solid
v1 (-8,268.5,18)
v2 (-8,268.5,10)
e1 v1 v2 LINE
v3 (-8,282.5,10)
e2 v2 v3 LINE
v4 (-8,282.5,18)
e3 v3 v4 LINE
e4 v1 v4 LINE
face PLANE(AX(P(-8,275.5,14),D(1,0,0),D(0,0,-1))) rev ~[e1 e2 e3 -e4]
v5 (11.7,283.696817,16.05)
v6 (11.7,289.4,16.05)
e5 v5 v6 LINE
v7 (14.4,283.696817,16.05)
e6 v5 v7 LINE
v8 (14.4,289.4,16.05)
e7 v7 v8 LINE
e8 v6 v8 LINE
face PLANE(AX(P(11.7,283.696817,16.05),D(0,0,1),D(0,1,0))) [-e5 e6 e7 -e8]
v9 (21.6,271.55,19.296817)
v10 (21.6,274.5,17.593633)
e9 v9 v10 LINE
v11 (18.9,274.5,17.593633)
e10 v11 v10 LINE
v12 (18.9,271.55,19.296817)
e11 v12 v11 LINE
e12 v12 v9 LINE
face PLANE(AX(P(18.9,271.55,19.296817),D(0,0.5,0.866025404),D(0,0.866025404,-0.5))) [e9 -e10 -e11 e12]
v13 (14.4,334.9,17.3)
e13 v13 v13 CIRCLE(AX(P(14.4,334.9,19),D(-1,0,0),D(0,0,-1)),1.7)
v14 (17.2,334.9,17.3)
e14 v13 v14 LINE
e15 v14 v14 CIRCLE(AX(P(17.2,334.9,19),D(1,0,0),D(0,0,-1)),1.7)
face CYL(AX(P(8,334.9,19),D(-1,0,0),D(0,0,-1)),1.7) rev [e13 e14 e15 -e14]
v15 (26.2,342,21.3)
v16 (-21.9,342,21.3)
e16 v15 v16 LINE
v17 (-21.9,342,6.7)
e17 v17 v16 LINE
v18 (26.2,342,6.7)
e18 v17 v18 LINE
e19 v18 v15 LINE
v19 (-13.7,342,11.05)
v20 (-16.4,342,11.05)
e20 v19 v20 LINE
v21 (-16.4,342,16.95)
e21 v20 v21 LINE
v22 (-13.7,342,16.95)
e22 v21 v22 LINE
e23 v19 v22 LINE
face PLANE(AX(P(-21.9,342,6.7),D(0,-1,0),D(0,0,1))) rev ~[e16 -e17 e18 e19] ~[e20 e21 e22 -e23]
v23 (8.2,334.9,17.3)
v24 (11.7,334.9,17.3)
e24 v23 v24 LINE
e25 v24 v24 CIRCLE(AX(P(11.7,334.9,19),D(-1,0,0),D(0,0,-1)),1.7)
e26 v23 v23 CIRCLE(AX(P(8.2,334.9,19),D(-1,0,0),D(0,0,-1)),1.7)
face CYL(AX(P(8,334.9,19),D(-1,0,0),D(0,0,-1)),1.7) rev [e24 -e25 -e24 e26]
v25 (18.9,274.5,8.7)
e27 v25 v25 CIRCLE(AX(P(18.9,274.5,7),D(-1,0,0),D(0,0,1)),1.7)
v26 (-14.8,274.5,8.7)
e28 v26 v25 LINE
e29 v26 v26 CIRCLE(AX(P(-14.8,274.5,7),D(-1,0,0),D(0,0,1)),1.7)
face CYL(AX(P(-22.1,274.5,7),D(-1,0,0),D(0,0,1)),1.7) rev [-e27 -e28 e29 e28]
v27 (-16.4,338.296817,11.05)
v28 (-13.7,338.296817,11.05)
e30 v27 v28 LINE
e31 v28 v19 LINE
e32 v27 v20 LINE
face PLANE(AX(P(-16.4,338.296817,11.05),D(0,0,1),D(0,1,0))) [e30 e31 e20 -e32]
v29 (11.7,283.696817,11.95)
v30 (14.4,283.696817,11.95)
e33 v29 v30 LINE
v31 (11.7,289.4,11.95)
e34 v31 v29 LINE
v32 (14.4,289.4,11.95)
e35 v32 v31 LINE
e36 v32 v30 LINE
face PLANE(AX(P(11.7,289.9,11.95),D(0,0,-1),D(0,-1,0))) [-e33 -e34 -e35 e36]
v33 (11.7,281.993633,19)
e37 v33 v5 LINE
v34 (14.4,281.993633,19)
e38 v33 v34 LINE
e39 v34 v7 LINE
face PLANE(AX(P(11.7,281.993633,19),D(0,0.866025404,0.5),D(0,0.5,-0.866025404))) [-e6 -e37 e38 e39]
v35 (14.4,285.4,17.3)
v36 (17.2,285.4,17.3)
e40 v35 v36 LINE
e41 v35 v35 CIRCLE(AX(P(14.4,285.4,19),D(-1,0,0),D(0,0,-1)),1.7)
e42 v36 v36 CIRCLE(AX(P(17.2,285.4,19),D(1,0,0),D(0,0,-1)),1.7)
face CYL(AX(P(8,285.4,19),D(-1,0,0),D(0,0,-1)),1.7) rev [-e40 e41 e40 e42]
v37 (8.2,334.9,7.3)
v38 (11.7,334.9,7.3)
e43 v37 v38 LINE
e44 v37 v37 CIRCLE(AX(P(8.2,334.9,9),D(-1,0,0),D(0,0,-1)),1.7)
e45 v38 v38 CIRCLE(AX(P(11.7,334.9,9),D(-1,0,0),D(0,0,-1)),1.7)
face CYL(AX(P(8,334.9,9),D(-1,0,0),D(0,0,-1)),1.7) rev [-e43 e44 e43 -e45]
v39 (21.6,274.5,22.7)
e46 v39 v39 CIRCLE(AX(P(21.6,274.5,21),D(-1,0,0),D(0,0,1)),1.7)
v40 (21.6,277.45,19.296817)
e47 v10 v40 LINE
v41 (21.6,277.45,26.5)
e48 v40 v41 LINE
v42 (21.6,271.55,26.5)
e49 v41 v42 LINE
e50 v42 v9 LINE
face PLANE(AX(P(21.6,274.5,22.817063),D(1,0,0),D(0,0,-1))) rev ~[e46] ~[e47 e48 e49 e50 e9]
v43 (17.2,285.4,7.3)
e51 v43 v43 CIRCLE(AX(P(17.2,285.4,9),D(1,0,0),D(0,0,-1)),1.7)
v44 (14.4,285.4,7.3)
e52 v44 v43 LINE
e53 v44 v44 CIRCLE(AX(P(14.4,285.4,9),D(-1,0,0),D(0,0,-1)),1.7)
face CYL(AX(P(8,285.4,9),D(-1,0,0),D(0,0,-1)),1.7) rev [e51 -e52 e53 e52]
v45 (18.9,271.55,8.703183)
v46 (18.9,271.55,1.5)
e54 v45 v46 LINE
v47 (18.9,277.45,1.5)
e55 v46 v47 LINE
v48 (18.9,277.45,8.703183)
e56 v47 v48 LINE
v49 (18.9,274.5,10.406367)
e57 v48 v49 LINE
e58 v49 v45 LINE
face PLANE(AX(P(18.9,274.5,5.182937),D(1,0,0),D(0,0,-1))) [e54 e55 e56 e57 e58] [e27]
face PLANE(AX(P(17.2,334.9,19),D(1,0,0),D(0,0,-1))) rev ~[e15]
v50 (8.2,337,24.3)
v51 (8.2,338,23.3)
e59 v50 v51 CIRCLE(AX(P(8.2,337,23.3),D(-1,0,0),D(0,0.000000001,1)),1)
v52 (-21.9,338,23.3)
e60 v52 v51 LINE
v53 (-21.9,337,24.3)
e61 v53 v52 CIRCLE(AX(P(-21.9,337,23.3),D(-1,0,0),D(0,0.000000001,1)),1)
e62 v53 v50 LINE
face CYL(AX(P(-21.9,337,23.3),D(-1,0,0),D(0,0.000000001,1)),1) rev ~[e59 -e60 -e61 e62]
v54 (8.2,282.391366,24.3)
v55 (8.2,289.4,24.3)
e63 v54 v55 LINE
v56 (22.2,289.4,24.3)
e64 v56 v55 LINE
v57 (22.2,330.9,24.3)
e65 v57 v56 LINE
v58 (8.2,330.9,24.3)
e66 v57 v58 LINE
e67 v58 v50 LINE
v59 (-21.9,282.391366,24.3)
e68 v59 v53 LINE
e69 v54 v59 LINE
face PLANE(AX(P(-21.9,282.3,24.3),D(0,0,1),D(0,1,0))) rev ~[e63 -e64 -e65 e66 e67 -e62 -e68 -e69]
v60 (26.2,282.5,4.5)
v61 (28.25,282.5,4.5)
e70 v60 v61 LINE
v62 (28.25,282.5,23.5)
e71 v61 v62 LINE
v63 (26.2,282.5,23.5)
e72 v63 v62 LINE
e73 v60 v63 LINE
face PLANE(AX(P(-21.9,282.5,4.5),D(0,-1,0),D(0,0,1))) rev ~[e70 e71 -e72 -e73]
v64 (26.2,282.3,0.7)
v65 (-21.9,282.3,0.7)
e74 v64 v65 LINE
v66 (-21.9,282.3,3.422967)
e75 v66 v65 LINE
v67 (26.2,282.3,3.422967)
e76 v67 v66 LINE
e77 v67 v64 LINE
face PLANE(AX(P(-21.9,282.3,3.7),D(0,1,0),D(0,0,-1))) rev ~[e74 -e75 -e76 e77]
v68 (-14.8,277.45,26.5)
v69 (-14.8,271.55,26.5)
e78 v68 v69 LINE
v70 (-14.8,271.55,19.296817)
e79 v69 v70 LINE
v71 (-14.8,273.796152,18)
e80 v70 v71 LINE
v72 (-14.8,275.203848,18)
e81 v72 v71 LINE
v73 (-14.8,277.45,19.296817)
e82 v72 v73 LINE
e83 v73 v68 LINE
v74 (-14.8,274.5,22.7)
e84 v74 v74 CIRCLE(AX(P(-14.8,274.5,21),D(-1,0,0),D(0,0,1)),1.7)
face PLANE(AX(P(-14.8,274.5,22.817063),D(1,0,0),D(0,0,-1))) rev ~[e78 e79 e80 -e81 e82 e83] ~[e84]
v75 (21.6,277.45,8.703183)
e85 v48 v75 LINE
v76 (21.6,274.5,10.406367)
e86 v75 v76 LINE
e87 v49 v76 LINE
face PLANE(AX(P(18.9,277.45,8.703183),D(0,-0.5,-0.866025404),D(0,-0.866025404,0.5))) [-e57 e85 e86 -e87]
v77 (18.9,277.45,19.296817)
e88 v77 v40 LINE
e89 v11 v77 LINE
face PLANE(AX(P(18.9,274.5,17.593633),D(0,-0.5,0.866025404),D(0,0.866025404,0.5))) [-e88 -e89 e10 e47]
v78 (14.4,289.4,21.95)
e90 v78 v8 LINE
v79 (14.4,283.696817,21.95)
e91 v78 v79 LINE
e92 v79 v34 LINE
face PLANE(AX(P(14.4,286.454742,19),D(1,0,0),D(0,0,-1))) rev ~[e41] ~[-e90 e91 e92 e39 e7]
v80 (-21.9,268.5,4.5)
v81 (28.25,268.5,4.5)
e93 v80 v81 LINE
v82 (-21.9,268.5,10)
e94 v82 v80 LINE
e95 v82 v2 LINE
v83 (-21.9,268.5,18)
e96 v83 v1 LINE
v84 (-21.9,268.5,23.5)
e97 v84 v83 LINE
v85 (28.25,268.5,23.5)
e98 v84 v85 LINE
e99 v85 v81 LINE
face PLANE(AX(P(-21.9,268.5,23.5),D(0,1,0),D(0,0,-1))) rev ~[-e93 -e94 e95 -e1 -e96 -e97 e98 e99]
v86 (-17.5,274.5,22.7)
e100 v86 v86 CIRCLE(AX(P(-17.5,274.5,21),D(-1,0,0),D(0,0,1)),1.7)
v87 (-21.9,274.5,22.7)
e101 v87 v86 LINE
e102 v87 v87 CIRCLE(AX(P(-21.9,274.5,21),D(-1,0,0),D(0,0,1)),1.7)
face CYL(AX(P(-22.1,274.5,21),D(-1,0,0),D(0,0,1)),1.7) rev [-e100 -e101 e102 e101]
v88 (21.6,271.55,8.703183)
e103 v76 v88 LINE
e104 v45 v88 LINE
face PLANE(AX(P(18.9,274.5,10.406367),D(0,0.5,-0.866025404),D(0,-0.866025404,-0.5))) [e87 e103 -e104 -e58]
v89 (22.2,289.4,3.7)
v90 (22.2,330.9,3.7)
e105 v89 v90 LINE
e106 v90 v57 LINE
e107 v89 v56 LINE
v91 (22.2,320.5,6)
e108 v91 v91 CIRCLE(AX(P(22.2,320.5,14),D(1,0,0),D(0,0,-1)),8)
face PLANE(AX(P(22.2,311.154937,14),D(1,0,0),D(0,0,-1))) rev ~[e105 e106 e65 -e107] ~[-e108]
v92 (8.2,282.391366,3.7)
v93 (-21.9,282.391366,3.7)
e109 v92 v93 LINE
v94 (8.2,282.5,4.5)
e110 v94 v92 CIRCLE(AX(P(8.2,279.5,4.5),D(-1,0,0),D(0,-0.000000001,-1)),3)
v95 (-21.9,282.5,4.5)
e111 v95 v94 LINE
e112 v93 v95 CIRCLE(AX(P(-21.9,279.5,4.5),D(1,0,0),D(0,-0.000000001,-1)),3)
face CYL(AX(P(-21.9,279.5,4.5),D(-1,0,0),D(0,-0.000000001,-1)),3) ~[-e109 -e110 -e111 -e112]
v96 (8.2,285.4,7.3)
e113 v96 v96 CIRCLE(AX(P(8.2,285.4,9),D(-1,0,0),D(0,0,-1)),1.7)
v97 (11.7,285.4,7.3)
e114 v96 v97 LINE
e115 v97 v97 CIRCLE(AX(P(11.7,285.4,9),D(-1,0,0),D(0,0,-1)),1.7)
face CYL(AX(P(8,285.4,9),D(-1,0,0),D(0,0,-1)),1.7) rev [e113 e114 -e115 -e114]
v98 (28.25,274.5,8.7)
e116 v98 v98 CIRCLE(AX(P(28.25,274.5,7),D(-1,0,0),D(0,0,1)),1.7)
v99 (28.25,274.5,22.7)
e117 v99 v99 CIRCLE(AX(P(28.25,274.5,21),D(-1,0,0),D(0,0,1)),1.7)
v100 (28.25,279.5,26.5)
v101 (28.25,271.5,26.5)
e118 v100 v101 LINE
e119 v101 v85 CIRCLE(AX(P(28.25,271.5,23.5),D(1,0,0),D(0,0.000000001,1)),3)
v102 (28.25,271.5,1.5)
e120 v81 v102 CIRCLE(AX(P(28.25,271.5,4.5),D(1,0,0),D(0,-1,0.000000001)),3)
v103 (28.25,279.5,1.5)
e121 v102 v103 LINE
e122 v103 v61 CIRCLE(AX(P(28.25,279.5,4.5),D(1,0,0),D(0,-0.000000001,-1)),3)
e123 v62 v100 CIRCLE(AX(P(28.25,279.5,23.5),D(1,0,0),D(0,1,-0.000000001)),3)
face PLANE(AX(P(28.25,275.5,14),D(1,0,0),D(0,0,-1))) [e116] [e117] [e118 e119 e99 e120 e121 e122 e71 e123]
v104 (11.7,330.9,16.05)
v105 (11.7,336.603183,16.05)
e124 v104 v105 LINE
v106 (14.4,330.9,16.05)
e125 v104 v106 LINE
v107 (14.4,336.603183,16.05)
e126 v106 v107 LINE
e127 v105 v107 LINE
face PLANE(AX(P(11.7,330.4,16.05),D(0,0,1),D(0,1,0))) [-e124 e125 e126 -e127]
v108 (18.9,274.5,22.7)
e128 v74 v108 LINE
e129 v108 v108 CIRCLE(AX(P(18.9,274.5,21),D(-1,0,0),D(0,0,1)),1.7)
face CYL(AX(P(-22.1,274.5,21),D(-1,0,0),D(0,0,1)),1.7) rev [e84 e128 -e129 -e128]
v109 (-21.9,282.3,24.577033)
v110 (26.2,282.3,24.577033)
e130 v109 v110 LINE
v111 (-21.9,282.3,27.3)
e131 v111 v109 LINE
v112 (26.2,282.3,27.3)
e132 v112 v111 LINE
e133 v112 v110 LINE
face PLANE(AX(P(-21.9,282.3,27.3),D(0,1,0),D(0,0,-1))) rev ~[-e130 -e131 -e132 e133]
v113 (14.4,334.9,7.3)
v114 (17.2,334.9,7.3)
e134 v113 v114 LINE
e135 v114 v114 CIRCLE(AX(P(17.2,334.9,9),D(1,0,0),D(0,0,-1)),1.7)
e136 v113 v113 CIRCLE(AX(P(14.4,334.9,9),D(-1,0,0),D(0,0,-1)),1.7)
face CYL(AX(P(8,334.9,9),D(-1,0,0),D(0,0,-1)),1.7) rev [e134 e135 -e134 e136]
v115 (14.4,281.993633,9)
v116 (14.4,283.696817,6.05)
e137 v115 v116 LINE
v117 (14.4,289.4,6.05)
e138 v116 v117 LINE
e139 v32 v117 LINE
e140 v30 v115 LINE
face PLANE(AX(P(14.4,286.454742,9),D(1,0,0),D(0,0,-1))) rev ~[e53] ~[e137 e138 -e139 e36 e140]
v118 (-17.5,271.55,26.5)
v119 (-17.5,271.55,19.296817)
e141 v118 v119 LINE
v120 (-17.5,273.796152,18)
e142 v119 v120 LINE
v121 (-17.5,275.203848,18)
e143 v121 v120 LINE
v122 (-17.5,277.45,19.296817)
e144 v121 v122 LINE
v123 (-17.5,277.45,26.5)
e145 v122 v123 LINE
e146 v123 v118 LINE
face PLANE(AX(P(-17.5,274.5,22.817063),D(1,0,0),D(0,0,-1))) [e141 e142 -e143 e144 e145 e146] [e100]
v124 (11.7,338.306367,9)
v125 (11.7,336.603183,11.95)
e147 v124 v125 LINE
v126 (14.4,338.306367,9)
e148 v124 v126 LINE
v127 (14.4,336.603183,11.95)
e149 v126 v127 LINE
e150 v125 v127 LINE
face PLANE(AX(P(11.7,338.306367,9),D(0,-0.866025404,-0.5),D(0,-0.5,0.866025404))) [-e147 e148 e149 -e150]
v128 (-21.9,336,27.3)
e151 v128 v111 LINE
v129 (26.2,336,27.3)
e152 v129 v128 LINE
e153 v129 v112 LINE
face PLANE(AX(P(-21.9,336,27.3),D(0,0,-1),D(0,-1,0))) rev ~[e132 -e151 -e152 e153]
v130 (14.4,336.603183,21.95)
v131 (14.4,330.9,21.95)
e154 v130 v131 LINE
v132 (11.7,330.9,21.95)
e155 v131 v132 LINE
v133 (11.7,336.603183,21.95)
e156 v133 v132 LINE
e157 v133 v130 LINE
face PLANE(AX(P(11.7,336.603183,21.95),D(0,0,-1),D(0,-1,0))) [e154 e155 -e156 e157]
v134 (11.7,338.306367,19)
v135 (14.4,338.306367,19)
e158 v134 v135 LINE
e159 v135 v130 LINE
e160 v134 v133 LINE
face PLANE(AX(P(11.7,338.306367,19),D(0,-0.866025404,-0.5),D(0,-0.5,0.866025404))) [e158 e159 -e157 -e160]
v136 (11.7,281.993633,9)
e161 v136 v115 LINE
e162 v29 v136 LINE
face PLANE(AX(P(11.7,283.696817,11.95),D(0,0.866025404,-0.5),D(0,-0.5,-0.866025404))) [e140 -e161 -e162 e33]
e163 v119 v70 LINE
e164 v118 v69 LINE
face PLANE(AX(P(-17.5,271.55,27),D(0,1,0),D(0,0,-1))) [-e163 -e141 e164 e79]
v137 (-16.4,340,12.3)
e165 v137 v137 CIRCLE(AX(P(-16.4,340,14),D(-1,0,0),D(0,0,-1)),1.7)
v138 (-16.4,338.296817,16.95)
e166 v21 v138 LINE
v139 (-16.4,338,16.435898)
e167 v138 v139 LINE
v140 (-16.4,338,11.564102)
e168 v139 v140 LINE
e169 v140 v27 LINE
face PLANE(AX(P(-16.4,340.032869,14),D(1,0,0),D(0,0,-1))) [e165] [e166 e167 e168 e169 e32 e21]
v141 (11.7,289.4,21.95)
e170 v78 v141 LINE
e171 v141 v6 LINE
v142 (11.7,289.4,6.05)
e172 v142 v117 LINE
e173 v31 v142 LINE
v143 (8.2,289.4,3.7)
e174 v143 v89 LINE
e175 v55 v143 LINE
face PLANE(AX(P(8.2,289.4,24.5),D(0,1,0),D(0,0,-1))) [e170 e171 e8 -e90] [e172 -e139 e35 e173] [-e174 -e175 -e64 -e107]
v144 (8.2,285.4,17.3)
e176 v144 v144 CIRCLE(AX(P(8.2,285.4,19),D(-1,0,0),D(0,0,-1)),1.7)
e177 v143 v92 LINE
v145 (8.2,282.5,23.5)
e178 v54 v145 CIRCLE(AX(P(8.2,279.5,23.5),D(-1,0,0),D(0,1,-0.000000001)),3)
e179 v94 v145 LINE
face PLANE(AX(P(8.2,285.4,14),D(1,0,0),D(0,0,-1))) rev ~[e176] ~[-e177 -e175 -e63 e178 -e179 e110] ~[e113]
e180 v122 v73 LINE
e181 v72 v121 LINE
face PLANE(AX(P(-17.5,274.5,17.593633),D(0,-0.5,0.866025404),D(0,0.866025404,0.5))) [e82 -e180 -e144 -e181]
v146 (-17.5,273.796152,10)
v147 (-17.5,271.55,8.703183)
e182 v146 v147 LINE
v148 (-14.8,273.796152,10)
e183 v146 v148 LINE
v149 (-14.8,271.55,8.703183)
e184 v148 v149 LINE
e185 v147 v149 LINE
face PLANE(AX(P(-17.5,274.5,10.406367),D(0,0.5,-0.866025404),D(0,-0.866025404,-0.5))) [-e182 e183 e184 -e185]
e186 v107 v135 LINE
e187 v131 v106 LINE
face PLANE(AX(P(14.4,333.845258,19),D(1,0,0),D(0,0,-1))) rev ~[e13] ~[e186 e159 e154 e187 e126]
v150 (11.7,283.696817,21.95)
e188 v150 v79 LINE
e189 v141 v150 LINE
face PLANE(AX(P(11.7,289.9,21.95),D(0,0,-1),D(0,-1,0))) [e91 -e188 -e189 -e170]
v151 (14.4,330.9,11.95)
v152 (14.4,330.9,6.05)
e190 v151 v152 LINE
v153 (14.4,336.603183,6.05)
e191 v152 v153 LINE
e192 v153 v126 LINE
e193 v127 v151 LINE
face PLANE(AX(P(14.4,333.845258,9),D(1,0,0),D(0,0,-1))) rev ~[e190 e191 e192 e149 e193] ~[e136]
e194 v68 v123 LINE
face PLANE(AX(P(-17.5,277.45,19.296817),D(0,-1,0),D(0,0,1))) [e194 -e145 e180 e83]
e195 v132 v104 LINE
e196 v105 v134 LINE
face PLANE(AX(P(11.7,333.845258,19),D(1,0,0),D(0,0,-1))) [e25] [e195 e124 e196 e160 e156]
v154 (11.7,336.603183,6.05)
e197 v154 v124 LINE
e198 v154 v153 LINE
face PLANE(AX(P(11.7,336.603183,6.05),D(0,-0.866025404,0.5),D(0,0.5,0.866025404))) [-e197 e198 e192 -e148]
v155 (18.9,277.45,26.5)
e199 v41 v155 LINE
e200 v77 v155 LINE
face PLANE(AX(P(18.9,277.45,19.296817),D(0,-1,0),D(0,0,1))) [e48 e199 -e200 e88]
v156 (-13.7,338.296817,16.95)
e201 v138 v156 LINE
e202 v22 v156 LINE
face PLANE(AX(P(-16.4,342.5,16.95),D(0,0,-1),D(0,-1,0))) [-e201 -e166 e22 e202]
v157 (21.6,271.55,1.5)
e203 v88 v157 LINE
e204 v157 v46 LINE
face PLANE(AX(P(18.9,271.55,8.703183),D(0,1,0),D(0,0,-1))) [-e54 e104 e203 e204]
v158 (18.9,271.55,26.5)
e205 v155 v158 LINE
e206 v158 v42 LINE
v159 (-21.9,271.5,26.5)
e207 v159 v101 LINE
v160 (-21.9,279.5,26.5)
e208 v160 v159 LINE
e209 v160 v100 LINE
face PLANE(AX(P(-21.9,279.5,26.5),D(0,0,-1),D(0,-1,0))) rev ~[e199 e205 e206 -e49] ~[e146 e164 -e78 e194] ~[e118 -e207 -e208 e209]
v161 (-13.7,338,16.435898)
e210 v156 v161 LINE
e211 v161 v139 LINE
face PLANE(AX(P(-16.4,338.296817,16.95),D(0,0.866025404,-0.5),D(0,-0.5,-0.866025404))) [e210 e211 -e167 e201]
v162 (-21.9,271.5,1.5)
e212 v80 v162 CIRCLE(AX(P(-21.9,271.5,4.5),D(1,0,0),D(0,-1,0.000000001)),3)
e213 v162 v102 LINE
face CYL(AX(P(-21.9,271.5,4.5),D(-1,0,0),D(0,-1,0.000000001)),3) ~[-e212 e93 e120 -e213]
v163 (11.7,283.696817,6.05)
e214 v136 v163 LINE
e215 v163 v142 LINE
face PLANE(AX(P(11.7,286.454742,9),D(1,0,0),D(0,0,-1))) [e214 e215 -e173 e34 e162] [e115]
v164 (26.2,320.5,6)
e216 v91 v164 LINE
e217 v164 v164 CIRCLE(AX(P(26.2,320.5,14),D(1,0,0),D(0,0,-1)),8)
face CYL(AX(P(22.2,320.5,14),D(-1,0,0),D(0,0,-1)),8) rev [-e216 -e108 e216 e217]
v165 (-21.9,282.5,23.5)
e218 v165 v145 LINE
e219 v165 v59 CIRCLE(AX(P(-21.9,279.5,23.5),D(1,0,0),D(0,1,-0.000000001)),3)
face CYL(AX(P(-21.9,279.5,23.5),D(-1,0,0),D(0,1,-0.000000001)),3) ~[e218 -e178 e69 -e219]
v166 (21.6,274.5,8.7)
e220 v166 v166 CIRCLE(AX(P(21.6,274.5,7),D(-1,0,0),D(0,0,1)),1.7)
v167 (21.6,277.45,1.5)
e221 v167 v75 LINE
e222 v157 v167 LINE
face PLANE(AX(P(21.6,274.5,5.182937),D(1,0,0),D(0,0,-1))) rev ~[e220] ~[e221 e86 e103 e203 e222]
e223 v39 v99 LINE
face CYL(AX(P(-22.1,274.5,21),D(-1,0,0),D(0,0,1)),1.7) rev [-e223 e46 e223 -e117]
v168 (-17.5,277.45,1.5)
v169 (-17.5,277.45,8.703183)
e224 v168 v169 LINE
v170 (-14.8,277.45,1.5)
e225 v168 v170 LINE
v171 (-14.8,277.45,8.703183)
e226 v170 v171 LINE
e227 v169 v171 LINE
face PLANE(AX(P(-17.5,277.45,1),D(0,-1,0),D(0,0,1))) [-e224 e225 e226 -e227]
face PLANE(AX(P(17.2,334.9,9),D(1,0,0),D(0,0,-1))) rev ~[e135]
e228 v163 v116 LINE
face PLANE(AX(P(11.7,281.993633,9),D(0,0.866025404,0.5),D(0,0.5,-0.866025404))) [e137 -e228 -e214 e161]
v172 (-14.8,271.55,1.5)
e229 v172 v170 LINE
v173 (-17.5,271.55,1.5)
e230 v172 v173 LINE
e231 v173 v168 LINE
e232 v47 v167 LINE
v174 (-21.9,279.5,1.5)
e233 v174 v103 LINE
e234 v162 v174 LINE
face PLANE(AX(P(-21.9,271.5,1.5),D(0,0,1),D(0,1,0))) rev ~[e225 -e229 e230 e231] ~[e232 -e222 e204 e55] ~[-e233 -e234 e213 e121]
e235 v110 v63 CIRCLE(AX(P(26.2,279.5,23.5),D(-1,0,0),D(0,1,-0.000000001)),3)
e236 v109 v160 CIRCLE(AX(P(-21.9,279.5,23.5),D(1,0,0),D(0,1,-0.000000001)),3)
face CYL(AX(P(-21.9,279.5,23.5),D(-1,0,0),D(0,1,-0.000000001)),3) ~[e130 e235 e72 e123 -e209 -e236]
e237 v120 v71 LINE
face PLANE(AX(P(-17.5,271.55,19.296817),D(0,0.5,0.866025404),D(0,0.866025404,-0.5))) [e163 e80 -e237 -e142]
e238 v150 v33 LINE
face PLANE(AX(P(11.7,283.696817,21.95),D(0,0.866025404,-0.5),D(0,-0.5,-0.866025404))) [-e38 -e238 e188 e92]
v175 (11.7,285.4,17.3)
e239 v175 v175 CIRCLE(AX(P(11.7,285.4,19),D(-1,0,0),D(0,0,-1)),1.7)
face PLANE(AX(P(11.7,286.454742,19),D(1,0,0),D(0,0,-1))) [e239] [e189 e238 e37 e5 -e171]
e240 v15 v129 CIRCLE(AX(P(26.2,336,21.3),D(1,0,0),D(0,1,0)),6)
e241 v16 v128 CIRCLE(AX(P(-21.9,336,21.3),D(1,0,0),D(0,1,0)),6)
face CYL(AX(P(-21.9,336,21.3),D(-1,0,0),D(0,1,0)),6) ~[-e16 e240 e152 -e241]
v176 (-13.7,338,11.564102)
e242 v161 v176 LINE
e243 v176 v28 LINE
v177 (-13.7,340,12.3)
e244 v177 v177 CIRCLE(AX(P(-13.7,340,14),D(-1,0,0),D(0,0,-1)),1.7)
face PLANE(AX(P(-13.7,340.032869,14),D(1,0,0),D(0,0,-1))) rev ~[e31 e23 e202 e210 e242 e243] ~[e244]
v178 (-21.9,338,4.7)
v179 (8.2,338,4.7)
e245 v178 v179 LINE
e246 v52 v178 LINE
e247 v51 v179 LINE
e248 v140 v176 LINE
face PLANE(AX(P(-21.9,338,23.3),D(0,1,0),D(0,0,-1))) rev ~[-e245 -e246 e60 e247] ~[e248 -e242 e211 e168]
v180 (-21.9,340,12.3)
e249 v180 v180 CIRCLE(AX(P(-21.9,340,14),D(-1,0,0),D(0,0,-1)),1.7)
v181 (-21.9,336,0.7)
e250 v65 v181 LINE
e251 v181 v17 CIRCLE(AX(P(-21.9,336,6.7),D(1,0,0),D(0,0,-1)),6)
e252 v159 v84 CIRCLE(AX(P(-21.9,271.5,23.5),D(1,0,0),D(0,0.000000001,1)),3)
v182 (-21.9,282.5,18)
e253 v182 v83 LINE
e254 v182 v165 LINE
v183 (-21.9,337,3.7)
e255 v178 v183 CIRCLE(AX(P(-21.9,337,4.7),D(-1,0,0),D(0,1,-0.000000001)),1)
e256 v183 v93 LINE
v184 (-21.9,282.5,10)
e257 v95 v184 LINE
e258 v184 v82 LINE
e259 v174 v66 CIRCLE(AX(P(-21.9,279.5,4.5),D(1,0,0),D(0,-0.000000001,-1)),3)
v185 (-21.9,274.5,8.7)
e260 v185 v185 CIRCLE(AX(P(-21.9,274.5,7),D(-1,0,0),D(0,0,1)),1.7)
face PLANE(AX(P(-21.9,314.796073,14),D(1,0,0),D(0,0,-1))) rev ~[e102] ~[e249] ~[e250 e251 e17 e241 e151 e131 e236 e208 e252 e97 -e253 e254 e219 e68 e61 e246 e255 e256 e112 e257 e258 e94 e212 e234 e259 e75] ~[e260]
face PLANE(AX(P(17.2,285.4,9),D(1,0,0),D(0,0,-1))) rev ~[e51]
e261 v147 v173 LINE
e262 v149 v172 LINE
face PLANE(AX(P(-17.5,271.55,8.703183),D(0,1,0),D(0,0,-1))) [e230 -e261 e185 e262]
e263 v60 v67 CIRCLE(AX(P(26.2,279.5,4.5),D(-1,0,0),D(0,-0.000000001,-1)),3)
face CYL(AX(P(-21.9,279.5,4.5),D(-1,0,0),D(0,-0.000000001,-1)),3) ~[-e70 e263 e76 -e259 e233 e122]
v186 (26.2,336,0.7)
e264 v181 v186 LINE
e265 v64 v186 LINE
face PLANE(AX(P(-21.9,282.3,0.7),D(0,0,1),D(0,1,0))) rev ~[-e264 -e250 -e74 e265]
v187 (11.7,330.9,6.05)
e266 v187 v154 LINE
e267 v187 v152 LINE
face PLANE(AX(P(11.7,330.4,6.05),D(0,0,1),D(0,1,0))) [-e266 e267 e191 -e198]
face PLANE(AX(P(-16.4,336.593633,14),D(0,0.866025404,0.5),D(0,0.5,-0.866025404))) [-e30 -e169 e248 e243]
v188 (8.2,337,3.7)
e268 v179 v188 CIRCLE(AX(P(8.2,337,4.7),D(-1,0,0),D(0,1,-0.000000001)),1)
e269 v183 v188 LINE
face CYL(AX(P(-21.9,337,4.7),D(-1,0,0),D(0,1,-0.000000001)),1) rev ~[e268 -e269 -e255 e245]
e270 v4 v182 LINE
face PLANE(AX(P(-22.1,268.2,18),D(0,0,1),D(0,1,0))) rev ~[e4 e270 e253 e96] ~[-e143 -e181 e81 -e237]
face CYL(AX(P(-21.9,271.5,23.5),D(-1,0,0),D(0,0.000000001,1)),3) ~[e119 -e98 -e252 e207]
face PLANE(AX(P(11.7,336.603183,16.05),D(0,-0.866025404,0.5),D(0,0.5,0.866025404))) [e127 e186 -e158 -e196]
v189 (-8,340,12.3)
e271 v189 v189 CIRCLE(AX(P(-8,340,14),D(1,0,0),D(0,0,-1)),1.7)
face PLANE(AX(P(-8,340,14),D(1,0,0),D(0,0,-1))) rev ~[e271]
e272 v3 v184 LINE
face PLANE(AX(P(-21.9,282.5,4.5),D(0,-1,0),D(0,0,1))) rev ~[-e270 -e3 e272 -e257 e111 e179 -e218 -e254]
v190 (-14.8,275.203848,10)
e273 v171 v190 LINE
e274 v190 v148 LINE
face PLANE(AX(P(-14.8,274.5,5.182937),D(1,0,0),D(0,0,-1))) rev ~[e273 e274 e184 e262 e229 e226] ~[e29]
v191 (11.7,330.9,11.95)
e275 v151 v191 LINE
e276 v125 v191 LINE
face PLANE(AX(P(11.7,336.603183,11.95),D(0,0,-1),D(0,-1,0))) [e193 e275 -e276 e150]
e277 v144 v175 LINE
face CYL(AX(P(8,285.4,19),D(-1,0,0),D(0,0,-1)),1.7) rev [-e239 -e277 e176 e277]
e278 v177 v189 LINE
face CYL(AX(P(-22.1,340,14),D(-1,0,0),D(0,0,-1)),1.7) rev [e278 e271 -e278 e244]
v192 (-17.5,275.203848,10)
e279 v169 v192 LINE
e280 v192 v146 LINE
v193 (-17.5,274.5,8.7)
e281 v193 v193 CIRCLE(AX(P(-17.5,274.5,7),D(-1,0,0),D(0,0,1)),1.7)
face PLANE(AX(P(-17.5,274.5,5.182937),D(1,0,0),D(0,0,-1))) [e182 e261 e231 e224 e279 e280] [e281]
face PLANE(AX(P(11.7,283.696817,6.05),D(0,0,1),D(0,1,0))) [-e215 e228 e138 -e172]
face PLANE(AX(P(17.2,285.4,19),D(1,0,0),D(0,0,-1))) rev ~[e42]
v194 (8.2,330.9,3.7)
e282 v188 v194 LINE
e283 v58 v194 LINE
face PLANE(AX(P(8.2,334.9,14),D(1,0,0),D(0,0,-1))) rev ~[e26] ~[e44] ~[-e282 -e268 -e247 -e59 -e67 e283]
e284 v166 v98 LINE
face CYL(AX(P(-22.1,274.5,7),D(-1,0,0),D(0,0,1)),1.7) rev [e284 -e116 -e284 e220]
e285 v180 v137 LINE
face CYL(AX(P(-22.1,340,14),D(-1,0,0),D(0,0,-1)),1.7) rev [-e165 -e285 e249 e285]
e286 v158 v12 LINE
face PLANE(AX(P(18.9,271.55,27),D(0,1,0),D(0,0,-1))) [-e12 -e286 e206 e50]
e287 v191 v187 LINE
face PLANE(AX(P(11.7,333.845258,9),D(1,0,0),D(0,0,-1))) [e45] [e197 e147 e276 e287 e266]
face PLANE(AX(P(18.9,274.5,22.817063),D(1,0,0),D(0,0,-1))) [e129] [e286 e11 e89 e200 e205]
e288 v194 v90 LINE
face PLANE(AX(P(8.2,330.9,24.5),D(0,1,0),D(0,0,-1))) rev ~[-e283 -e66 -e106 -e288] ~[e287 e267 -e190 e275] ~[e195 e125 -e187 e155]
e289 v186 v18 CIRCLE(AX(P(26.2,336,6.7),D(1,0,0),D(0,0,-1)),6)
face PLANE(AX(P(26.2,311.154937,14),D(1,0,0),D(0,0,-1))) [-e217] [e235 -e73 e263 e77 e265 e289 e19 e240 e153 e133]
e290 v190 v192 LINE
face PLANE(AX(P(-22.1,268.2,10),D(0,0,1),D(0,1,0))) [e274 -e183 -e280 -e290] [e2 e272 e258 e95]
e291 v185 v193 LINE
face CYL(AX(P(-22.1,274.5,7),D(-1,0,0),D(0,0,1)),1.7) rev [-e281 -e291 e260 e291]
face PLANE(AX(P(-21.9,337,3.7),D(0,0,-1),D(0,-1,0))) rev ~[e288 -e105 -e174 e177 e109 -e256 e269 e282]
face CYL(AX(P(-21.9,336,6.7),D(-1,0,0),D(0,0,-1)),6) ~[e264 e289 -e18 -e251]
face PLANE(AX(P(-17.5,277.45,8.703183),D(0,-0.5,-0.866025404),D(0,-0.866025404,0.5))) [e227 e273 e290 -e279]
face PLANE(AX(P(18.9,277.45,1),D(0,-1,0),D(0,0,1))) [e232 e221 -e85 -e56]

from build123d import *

# Parameters (mm, degrees)
TAIL_START              = -21.9
TAIL_BLOCK_DEPTH        = 50.15
NOSE_START              = 22.2
SKETCH2_R               = 8
NOSE_WALL_X_DEPTH       = 4
NOSE_START_2            = -21.9
NOSE_WALLS_DEPTH        = 44.3
HEAD_START              = 8.2
SKETCH4_W               = 21
SKETCH4_H               = 8
HEAD_SERVO_LEDGES_DEPTH = 14.2
TAB_START               = 8
SKETCH5_R               = 1.7
TAB_BOLT_HOLES_DEPTH    = 9.2
TAB_START_2             = 11.7
TAB_NUT_SLOTS_DEPTH     = 2.7
MOUNT_START             = -22.1
SKETCH7_R               = 1.7
MOUNT_BOLT_HOLES_DEPTH  = 50.55
COVER_START             = -22.1
SKETCH8_R               = 1.7
COVER_BOLT_HOLE_DEPTH   = 14.1
D_SIDE_START            = 18.9
D_SIDE_NUT_SLOTS_DEPTH  = 2.7
I_SIDE_START            = -17.5
I_SIDE_NUT_SLOTS_DEPTH  = 2.7
COVER_START_2           = -16.4
COVER_NUT_SLOT_DEPTH    = 2.7
LEAD_START              = -22.1
SKETCH12_W              = 8
SKETCH12_H              = 14.6
LEAD_CHANNEL_DEPTH      = 14.1


with BuildPart() as part:
    # Sketch1 → Tail block (new body)
    with BuildSketch(Plane(origin=(0, 0, 0), x_dir=(0, 0, -1), z_dir=(1, 0, 0)).offset(TAIL_START)):
        with BuildLine():
            Line((-1.5, 271.5), (-1.5, 279.5))
            ThreePointArc((-1.5, 279.5), (-2.378679656, 281.621320344), (-4.5, 282.5))
            Line((-4.5, 282.5), (-23.5, 282.5))
            ThreePointArc((-23.5, 282.5), (-25.621320344, 281.621320344), (-26.5, 279.5))
            Line((-26.5, 279.5), (-26.5, 271.5))
            ThreePointArc((-26.5, 271.5), (-25.621320344, 269.378679656), (-23.5, 268.5))
            Line((-23.5, 268.5), (-4.5, 268.5))
            ThreePointArc((-4.5, 268.5), (-2.378679656, 269.378679656), (-1.5, 271.5))
        make_face()
    extrude(amount=TAIL_BLOCK_DEPTH)

    # Sketch2 → Nose wall +X (add)
    with BuildSketch(Plane(origin=(0, 0, 0), x_dir=(0, 0, -1), z_dir=(1, 0, 0)).offset(NOSE_START)):
        with BuildLine():
            Line((-0.7, 282.3), (-0.7, 336))
            ThreePointArc((-0.7, 336), (-2.457359313, 340.242640687), (-6.7, 342))
            Line((-6.7, 342), (-21.3, 342))
            ThreePointArc((-21.3, 342), (-25.542640687, 340.242640687), (-27.3, 336))
            Line((-27.3, 336), (-27.3, 282.3))
            Line((-27.3, 282.3), (-0.7, 282.3))
        make_face()
        with Locations((-14, 320.5)):
            Circle(SKETCH2_R, mode=Mode.SUBTRACT)
    extrude(amount=NOSE_WALL_X_DEPTH)

    # Sketch3 → Nose walls (add)
    with BuildSketch(Plane(origin=(0, 0, 0), x_dir=(0, 0, -1), z_dir=(1, 0, 0)).offset(NOSE_START_2)):
        with BuildLine():
            Line((-0.7, 282.3), (-0.7, 336))
            ThreePointArc((-0.7, 336), (-2.457359313, 340.242640687), (-6.7, 342))
            Line((-6.7, 342), (-21.3, 342))
            ThreePointArc((-21.3, 342), (-25.542640687, 340.242640687), (-27.3, 336))
            Line((-27.3, 336), (-27.3, 282.3))
            Line((-27.3, 282.3), (-24.3, 282.3))
            Line((-24.3, 282.3), (-24.3, 337))
            ThreePointArc((-24.3, 337), (-24.007106781, 337.707106781), (-23.3, 338))
            Line((-23.3, 338), (-4.7, 338))
            ThreePointArc((-4.7, 338), (-3.992893219, 337.707106781), (-3.7, 337))
            Line((-3.7, 337), (-3.7, 282.3))
            Line((-3.7, 282.3), (-0.7, 282.3))
        make_face()
    extrude(amount=NOSE_WALLS_DEPTH)

    # Sketch4 → Head servo ledges (add)
    with BuildSketch(Plane(origin=(0, 0, 0), x_dir=(0, 0, -1), z_dir=(1, 0, 0)).offset(HEAD_START)):
        with Locations((-14, 334.9)):
            Rectangle(SKETCH4_W, SKETCH4_H)
        with Locations((-14, 285.4)):
            Rectangle(SKETCH4_W, SKETCH4_H)
    extrude(amount=HEAD_SERVO_LEDGES_DEPTH)

    # Sketch5 → Tab bolt holes (cut)
    with BuildSketch(Plane(origin=(0, 0, 0), x_dir=(0, 0, -1), z_dir=(1, 0, 0)).offset(TAB_START)):
        with Locations((-9, 334.9)):
            Circle(SKETCH5_R)
        with Locations((-19, 334.9)):
            Circle(SKETCH5_R)
        with Locations((-9, 285.4)):
            Circle(SKETCH5_R)
        with Locations((-19, 285.4)):
            Circle(SKETCH5_R)
    extrude(amount=TAB_BOLT_HOLES_DEPTH, mode=Mode.SUBTRACT)

    # Sketch6 → Tab nut slots (cut)
    with BuildSketch(Plane(origin=(0, 0, 0), x_dir=(0, 0, -1), z_dir=(1, 0, 0)).offset(TAB_START_2)):
        Polygon((-6.05, 333.196816706), (-6.05, 336.603183294), (-9, 338.306366588), (-11.95, 336.603183294), (-11.95, 333.196816706), (-11.95, 330.4), (-6.05, 330.4), align=None)
        Polygon((-16.05, 333.196816706), (-16.05, 336.603183294), (-19, 338.306366588), (-21.95, 336.603183294), (-21.95, 333.196816706), (-21.95, 330.4), (-16.05, 330.4), align=None)
        Polygon((-11.95, 287.103183294), (-11.95, 283.696816706), (-9, 281.993633412), (-6.05, 283.696816706), (-6.05, 287.103183294), (-6.05, 289.9), (-11.95, 289.9), align=None)
        Polygon((-21.95, 287.103183294), (-21.95, 283.696816706), (-19, 281.993633412), (-16.05, 283.696816706), (-16.05, 287.103183294), (-16.05, 289.9), (-21.95, 289.9), align=None)
    extrude(amount=TAB_NUT_SLOTS_DEPTH, mode=Mode.SUBTRACT)

    # Sketch7 → Mount bolt holes (cut)
    with BuildSketch(Plane(origin=(0, 0, 0), x_dir=(0, 0, -1), z_dir=(1, 0, 0)).offset(MOUNT_START)):
        with Locations(Location((-7, 274.5, 0), (0, 0, 180))):
            Circle(SKETCH7_R)
        with Locations(Location((-21, 274.5, 0), (0, 0, 180))):
            Circle(SKETCH7_R)
    extrude(amount=MOUNT_BOLT_HOLES_DEPTH, mode=Mode.SUBTRACT)

    # Sketch8 → Cover bolt hole (cut)
    with BuildSketch(Plane(origin=(0, 0, 0), x_dir=(0, 0, -1), z_dir=(1, 0, 0)).offset(COVER_START)):
        with Locations((-14, 340)):
            Circle(SKETCH8_R)
    extrude(amount=COVER_BOLT_HOLE_DEPTH, mode=Mode.SUBTRACT)

    # Sketch9 → D-side nut slots (cut)
    with BuildSketch(Plane(origin=(0, 0, 0), x_dir=(0, 0, -1), z_dir=(1, 0, 0)).offset(D_SIDE_START)):
        Polygon((-5.296816706, 277.45), (-8.703183294, 277.45), (-10.406366588, 274.5), (-8.703183294, 271.55), (-5.296816706, 271.55), (-1, 271.55), (-1, 277.45), align=None)
        Polygon((-22.703183294, 271.55), (-19.296816706, 271.55), (-17.593633412, 274.5), (-19.296816706, 277.45), (-22.703183294, 277.45), (-27, 277.45), (-27, 271.55), align=None)
    extrude(amount=D_SIDE_NUT_SLOTS_DEPTH, mode=Mode.SUBTRACT)

    # Sketch10 → I-side nut slots (cut)
    with BuildSketch(Plane(origin=(0, 0, 0), x_dir=(0, 0, -1), z_dir=(1, 0, 0)).offset(I_SIDE_START)):
        Polygon((-5.296816706, 277.45), (-8.703183294, 277.45), (-10.406366588, 274.5), (-8.703183294, 271.55), (-5.296816706, 271.55), (-1, 271.55), (-1, 277.45), align=None)
        Polygon((-22.703183294, 271.55), (-19.296816706, 271.55), (-17.593633412, 274.5), (-19.296816706, 277.45), (-22.703183294, 277.45), (-27, 277.45), (-27, 271.55), align=None)
    extrude(amount=I_SIDE_NUT_SLOTS_DEPTH, mode=Mode.SUBTRACT)

    # Sketch11 → Cover nut slot (cut)
    with BuildSketch(Plane(origin=(0, 0, 0), x_dir=(0, 0, -1), z_dir=(1, 0, 0)).offset(COVER_START_2)):
        Polygon((-16.95, 341.703183294), (-16.95, 338.296816706), (-14, 336.593633412), (-11.05, 338.296816706), (-11.05, 341.703183294), (-11.05, 342.5), (-16.95, 342.5), align=None)
    extrude(amount=COVER_NUT_SLOT_DEPTH, mode=Mode.SUBTRACT)

    # Sketch12 → Lead channel (cut)
    with BuildSketch(Plane(origin=(0, 0, 0), x_dir=(0, 0, -1), z_dir=(1, 0, 0)).offset(LEAD_START)):
        with Locations((-14, 275.5)):
            Rectangle(SKETCH12_W, SKETCH12_H)
    extrude(amount=LEAD_CHANNEL_DEPTH, mode=Mode.SUBTRACT)


solid = part.part
